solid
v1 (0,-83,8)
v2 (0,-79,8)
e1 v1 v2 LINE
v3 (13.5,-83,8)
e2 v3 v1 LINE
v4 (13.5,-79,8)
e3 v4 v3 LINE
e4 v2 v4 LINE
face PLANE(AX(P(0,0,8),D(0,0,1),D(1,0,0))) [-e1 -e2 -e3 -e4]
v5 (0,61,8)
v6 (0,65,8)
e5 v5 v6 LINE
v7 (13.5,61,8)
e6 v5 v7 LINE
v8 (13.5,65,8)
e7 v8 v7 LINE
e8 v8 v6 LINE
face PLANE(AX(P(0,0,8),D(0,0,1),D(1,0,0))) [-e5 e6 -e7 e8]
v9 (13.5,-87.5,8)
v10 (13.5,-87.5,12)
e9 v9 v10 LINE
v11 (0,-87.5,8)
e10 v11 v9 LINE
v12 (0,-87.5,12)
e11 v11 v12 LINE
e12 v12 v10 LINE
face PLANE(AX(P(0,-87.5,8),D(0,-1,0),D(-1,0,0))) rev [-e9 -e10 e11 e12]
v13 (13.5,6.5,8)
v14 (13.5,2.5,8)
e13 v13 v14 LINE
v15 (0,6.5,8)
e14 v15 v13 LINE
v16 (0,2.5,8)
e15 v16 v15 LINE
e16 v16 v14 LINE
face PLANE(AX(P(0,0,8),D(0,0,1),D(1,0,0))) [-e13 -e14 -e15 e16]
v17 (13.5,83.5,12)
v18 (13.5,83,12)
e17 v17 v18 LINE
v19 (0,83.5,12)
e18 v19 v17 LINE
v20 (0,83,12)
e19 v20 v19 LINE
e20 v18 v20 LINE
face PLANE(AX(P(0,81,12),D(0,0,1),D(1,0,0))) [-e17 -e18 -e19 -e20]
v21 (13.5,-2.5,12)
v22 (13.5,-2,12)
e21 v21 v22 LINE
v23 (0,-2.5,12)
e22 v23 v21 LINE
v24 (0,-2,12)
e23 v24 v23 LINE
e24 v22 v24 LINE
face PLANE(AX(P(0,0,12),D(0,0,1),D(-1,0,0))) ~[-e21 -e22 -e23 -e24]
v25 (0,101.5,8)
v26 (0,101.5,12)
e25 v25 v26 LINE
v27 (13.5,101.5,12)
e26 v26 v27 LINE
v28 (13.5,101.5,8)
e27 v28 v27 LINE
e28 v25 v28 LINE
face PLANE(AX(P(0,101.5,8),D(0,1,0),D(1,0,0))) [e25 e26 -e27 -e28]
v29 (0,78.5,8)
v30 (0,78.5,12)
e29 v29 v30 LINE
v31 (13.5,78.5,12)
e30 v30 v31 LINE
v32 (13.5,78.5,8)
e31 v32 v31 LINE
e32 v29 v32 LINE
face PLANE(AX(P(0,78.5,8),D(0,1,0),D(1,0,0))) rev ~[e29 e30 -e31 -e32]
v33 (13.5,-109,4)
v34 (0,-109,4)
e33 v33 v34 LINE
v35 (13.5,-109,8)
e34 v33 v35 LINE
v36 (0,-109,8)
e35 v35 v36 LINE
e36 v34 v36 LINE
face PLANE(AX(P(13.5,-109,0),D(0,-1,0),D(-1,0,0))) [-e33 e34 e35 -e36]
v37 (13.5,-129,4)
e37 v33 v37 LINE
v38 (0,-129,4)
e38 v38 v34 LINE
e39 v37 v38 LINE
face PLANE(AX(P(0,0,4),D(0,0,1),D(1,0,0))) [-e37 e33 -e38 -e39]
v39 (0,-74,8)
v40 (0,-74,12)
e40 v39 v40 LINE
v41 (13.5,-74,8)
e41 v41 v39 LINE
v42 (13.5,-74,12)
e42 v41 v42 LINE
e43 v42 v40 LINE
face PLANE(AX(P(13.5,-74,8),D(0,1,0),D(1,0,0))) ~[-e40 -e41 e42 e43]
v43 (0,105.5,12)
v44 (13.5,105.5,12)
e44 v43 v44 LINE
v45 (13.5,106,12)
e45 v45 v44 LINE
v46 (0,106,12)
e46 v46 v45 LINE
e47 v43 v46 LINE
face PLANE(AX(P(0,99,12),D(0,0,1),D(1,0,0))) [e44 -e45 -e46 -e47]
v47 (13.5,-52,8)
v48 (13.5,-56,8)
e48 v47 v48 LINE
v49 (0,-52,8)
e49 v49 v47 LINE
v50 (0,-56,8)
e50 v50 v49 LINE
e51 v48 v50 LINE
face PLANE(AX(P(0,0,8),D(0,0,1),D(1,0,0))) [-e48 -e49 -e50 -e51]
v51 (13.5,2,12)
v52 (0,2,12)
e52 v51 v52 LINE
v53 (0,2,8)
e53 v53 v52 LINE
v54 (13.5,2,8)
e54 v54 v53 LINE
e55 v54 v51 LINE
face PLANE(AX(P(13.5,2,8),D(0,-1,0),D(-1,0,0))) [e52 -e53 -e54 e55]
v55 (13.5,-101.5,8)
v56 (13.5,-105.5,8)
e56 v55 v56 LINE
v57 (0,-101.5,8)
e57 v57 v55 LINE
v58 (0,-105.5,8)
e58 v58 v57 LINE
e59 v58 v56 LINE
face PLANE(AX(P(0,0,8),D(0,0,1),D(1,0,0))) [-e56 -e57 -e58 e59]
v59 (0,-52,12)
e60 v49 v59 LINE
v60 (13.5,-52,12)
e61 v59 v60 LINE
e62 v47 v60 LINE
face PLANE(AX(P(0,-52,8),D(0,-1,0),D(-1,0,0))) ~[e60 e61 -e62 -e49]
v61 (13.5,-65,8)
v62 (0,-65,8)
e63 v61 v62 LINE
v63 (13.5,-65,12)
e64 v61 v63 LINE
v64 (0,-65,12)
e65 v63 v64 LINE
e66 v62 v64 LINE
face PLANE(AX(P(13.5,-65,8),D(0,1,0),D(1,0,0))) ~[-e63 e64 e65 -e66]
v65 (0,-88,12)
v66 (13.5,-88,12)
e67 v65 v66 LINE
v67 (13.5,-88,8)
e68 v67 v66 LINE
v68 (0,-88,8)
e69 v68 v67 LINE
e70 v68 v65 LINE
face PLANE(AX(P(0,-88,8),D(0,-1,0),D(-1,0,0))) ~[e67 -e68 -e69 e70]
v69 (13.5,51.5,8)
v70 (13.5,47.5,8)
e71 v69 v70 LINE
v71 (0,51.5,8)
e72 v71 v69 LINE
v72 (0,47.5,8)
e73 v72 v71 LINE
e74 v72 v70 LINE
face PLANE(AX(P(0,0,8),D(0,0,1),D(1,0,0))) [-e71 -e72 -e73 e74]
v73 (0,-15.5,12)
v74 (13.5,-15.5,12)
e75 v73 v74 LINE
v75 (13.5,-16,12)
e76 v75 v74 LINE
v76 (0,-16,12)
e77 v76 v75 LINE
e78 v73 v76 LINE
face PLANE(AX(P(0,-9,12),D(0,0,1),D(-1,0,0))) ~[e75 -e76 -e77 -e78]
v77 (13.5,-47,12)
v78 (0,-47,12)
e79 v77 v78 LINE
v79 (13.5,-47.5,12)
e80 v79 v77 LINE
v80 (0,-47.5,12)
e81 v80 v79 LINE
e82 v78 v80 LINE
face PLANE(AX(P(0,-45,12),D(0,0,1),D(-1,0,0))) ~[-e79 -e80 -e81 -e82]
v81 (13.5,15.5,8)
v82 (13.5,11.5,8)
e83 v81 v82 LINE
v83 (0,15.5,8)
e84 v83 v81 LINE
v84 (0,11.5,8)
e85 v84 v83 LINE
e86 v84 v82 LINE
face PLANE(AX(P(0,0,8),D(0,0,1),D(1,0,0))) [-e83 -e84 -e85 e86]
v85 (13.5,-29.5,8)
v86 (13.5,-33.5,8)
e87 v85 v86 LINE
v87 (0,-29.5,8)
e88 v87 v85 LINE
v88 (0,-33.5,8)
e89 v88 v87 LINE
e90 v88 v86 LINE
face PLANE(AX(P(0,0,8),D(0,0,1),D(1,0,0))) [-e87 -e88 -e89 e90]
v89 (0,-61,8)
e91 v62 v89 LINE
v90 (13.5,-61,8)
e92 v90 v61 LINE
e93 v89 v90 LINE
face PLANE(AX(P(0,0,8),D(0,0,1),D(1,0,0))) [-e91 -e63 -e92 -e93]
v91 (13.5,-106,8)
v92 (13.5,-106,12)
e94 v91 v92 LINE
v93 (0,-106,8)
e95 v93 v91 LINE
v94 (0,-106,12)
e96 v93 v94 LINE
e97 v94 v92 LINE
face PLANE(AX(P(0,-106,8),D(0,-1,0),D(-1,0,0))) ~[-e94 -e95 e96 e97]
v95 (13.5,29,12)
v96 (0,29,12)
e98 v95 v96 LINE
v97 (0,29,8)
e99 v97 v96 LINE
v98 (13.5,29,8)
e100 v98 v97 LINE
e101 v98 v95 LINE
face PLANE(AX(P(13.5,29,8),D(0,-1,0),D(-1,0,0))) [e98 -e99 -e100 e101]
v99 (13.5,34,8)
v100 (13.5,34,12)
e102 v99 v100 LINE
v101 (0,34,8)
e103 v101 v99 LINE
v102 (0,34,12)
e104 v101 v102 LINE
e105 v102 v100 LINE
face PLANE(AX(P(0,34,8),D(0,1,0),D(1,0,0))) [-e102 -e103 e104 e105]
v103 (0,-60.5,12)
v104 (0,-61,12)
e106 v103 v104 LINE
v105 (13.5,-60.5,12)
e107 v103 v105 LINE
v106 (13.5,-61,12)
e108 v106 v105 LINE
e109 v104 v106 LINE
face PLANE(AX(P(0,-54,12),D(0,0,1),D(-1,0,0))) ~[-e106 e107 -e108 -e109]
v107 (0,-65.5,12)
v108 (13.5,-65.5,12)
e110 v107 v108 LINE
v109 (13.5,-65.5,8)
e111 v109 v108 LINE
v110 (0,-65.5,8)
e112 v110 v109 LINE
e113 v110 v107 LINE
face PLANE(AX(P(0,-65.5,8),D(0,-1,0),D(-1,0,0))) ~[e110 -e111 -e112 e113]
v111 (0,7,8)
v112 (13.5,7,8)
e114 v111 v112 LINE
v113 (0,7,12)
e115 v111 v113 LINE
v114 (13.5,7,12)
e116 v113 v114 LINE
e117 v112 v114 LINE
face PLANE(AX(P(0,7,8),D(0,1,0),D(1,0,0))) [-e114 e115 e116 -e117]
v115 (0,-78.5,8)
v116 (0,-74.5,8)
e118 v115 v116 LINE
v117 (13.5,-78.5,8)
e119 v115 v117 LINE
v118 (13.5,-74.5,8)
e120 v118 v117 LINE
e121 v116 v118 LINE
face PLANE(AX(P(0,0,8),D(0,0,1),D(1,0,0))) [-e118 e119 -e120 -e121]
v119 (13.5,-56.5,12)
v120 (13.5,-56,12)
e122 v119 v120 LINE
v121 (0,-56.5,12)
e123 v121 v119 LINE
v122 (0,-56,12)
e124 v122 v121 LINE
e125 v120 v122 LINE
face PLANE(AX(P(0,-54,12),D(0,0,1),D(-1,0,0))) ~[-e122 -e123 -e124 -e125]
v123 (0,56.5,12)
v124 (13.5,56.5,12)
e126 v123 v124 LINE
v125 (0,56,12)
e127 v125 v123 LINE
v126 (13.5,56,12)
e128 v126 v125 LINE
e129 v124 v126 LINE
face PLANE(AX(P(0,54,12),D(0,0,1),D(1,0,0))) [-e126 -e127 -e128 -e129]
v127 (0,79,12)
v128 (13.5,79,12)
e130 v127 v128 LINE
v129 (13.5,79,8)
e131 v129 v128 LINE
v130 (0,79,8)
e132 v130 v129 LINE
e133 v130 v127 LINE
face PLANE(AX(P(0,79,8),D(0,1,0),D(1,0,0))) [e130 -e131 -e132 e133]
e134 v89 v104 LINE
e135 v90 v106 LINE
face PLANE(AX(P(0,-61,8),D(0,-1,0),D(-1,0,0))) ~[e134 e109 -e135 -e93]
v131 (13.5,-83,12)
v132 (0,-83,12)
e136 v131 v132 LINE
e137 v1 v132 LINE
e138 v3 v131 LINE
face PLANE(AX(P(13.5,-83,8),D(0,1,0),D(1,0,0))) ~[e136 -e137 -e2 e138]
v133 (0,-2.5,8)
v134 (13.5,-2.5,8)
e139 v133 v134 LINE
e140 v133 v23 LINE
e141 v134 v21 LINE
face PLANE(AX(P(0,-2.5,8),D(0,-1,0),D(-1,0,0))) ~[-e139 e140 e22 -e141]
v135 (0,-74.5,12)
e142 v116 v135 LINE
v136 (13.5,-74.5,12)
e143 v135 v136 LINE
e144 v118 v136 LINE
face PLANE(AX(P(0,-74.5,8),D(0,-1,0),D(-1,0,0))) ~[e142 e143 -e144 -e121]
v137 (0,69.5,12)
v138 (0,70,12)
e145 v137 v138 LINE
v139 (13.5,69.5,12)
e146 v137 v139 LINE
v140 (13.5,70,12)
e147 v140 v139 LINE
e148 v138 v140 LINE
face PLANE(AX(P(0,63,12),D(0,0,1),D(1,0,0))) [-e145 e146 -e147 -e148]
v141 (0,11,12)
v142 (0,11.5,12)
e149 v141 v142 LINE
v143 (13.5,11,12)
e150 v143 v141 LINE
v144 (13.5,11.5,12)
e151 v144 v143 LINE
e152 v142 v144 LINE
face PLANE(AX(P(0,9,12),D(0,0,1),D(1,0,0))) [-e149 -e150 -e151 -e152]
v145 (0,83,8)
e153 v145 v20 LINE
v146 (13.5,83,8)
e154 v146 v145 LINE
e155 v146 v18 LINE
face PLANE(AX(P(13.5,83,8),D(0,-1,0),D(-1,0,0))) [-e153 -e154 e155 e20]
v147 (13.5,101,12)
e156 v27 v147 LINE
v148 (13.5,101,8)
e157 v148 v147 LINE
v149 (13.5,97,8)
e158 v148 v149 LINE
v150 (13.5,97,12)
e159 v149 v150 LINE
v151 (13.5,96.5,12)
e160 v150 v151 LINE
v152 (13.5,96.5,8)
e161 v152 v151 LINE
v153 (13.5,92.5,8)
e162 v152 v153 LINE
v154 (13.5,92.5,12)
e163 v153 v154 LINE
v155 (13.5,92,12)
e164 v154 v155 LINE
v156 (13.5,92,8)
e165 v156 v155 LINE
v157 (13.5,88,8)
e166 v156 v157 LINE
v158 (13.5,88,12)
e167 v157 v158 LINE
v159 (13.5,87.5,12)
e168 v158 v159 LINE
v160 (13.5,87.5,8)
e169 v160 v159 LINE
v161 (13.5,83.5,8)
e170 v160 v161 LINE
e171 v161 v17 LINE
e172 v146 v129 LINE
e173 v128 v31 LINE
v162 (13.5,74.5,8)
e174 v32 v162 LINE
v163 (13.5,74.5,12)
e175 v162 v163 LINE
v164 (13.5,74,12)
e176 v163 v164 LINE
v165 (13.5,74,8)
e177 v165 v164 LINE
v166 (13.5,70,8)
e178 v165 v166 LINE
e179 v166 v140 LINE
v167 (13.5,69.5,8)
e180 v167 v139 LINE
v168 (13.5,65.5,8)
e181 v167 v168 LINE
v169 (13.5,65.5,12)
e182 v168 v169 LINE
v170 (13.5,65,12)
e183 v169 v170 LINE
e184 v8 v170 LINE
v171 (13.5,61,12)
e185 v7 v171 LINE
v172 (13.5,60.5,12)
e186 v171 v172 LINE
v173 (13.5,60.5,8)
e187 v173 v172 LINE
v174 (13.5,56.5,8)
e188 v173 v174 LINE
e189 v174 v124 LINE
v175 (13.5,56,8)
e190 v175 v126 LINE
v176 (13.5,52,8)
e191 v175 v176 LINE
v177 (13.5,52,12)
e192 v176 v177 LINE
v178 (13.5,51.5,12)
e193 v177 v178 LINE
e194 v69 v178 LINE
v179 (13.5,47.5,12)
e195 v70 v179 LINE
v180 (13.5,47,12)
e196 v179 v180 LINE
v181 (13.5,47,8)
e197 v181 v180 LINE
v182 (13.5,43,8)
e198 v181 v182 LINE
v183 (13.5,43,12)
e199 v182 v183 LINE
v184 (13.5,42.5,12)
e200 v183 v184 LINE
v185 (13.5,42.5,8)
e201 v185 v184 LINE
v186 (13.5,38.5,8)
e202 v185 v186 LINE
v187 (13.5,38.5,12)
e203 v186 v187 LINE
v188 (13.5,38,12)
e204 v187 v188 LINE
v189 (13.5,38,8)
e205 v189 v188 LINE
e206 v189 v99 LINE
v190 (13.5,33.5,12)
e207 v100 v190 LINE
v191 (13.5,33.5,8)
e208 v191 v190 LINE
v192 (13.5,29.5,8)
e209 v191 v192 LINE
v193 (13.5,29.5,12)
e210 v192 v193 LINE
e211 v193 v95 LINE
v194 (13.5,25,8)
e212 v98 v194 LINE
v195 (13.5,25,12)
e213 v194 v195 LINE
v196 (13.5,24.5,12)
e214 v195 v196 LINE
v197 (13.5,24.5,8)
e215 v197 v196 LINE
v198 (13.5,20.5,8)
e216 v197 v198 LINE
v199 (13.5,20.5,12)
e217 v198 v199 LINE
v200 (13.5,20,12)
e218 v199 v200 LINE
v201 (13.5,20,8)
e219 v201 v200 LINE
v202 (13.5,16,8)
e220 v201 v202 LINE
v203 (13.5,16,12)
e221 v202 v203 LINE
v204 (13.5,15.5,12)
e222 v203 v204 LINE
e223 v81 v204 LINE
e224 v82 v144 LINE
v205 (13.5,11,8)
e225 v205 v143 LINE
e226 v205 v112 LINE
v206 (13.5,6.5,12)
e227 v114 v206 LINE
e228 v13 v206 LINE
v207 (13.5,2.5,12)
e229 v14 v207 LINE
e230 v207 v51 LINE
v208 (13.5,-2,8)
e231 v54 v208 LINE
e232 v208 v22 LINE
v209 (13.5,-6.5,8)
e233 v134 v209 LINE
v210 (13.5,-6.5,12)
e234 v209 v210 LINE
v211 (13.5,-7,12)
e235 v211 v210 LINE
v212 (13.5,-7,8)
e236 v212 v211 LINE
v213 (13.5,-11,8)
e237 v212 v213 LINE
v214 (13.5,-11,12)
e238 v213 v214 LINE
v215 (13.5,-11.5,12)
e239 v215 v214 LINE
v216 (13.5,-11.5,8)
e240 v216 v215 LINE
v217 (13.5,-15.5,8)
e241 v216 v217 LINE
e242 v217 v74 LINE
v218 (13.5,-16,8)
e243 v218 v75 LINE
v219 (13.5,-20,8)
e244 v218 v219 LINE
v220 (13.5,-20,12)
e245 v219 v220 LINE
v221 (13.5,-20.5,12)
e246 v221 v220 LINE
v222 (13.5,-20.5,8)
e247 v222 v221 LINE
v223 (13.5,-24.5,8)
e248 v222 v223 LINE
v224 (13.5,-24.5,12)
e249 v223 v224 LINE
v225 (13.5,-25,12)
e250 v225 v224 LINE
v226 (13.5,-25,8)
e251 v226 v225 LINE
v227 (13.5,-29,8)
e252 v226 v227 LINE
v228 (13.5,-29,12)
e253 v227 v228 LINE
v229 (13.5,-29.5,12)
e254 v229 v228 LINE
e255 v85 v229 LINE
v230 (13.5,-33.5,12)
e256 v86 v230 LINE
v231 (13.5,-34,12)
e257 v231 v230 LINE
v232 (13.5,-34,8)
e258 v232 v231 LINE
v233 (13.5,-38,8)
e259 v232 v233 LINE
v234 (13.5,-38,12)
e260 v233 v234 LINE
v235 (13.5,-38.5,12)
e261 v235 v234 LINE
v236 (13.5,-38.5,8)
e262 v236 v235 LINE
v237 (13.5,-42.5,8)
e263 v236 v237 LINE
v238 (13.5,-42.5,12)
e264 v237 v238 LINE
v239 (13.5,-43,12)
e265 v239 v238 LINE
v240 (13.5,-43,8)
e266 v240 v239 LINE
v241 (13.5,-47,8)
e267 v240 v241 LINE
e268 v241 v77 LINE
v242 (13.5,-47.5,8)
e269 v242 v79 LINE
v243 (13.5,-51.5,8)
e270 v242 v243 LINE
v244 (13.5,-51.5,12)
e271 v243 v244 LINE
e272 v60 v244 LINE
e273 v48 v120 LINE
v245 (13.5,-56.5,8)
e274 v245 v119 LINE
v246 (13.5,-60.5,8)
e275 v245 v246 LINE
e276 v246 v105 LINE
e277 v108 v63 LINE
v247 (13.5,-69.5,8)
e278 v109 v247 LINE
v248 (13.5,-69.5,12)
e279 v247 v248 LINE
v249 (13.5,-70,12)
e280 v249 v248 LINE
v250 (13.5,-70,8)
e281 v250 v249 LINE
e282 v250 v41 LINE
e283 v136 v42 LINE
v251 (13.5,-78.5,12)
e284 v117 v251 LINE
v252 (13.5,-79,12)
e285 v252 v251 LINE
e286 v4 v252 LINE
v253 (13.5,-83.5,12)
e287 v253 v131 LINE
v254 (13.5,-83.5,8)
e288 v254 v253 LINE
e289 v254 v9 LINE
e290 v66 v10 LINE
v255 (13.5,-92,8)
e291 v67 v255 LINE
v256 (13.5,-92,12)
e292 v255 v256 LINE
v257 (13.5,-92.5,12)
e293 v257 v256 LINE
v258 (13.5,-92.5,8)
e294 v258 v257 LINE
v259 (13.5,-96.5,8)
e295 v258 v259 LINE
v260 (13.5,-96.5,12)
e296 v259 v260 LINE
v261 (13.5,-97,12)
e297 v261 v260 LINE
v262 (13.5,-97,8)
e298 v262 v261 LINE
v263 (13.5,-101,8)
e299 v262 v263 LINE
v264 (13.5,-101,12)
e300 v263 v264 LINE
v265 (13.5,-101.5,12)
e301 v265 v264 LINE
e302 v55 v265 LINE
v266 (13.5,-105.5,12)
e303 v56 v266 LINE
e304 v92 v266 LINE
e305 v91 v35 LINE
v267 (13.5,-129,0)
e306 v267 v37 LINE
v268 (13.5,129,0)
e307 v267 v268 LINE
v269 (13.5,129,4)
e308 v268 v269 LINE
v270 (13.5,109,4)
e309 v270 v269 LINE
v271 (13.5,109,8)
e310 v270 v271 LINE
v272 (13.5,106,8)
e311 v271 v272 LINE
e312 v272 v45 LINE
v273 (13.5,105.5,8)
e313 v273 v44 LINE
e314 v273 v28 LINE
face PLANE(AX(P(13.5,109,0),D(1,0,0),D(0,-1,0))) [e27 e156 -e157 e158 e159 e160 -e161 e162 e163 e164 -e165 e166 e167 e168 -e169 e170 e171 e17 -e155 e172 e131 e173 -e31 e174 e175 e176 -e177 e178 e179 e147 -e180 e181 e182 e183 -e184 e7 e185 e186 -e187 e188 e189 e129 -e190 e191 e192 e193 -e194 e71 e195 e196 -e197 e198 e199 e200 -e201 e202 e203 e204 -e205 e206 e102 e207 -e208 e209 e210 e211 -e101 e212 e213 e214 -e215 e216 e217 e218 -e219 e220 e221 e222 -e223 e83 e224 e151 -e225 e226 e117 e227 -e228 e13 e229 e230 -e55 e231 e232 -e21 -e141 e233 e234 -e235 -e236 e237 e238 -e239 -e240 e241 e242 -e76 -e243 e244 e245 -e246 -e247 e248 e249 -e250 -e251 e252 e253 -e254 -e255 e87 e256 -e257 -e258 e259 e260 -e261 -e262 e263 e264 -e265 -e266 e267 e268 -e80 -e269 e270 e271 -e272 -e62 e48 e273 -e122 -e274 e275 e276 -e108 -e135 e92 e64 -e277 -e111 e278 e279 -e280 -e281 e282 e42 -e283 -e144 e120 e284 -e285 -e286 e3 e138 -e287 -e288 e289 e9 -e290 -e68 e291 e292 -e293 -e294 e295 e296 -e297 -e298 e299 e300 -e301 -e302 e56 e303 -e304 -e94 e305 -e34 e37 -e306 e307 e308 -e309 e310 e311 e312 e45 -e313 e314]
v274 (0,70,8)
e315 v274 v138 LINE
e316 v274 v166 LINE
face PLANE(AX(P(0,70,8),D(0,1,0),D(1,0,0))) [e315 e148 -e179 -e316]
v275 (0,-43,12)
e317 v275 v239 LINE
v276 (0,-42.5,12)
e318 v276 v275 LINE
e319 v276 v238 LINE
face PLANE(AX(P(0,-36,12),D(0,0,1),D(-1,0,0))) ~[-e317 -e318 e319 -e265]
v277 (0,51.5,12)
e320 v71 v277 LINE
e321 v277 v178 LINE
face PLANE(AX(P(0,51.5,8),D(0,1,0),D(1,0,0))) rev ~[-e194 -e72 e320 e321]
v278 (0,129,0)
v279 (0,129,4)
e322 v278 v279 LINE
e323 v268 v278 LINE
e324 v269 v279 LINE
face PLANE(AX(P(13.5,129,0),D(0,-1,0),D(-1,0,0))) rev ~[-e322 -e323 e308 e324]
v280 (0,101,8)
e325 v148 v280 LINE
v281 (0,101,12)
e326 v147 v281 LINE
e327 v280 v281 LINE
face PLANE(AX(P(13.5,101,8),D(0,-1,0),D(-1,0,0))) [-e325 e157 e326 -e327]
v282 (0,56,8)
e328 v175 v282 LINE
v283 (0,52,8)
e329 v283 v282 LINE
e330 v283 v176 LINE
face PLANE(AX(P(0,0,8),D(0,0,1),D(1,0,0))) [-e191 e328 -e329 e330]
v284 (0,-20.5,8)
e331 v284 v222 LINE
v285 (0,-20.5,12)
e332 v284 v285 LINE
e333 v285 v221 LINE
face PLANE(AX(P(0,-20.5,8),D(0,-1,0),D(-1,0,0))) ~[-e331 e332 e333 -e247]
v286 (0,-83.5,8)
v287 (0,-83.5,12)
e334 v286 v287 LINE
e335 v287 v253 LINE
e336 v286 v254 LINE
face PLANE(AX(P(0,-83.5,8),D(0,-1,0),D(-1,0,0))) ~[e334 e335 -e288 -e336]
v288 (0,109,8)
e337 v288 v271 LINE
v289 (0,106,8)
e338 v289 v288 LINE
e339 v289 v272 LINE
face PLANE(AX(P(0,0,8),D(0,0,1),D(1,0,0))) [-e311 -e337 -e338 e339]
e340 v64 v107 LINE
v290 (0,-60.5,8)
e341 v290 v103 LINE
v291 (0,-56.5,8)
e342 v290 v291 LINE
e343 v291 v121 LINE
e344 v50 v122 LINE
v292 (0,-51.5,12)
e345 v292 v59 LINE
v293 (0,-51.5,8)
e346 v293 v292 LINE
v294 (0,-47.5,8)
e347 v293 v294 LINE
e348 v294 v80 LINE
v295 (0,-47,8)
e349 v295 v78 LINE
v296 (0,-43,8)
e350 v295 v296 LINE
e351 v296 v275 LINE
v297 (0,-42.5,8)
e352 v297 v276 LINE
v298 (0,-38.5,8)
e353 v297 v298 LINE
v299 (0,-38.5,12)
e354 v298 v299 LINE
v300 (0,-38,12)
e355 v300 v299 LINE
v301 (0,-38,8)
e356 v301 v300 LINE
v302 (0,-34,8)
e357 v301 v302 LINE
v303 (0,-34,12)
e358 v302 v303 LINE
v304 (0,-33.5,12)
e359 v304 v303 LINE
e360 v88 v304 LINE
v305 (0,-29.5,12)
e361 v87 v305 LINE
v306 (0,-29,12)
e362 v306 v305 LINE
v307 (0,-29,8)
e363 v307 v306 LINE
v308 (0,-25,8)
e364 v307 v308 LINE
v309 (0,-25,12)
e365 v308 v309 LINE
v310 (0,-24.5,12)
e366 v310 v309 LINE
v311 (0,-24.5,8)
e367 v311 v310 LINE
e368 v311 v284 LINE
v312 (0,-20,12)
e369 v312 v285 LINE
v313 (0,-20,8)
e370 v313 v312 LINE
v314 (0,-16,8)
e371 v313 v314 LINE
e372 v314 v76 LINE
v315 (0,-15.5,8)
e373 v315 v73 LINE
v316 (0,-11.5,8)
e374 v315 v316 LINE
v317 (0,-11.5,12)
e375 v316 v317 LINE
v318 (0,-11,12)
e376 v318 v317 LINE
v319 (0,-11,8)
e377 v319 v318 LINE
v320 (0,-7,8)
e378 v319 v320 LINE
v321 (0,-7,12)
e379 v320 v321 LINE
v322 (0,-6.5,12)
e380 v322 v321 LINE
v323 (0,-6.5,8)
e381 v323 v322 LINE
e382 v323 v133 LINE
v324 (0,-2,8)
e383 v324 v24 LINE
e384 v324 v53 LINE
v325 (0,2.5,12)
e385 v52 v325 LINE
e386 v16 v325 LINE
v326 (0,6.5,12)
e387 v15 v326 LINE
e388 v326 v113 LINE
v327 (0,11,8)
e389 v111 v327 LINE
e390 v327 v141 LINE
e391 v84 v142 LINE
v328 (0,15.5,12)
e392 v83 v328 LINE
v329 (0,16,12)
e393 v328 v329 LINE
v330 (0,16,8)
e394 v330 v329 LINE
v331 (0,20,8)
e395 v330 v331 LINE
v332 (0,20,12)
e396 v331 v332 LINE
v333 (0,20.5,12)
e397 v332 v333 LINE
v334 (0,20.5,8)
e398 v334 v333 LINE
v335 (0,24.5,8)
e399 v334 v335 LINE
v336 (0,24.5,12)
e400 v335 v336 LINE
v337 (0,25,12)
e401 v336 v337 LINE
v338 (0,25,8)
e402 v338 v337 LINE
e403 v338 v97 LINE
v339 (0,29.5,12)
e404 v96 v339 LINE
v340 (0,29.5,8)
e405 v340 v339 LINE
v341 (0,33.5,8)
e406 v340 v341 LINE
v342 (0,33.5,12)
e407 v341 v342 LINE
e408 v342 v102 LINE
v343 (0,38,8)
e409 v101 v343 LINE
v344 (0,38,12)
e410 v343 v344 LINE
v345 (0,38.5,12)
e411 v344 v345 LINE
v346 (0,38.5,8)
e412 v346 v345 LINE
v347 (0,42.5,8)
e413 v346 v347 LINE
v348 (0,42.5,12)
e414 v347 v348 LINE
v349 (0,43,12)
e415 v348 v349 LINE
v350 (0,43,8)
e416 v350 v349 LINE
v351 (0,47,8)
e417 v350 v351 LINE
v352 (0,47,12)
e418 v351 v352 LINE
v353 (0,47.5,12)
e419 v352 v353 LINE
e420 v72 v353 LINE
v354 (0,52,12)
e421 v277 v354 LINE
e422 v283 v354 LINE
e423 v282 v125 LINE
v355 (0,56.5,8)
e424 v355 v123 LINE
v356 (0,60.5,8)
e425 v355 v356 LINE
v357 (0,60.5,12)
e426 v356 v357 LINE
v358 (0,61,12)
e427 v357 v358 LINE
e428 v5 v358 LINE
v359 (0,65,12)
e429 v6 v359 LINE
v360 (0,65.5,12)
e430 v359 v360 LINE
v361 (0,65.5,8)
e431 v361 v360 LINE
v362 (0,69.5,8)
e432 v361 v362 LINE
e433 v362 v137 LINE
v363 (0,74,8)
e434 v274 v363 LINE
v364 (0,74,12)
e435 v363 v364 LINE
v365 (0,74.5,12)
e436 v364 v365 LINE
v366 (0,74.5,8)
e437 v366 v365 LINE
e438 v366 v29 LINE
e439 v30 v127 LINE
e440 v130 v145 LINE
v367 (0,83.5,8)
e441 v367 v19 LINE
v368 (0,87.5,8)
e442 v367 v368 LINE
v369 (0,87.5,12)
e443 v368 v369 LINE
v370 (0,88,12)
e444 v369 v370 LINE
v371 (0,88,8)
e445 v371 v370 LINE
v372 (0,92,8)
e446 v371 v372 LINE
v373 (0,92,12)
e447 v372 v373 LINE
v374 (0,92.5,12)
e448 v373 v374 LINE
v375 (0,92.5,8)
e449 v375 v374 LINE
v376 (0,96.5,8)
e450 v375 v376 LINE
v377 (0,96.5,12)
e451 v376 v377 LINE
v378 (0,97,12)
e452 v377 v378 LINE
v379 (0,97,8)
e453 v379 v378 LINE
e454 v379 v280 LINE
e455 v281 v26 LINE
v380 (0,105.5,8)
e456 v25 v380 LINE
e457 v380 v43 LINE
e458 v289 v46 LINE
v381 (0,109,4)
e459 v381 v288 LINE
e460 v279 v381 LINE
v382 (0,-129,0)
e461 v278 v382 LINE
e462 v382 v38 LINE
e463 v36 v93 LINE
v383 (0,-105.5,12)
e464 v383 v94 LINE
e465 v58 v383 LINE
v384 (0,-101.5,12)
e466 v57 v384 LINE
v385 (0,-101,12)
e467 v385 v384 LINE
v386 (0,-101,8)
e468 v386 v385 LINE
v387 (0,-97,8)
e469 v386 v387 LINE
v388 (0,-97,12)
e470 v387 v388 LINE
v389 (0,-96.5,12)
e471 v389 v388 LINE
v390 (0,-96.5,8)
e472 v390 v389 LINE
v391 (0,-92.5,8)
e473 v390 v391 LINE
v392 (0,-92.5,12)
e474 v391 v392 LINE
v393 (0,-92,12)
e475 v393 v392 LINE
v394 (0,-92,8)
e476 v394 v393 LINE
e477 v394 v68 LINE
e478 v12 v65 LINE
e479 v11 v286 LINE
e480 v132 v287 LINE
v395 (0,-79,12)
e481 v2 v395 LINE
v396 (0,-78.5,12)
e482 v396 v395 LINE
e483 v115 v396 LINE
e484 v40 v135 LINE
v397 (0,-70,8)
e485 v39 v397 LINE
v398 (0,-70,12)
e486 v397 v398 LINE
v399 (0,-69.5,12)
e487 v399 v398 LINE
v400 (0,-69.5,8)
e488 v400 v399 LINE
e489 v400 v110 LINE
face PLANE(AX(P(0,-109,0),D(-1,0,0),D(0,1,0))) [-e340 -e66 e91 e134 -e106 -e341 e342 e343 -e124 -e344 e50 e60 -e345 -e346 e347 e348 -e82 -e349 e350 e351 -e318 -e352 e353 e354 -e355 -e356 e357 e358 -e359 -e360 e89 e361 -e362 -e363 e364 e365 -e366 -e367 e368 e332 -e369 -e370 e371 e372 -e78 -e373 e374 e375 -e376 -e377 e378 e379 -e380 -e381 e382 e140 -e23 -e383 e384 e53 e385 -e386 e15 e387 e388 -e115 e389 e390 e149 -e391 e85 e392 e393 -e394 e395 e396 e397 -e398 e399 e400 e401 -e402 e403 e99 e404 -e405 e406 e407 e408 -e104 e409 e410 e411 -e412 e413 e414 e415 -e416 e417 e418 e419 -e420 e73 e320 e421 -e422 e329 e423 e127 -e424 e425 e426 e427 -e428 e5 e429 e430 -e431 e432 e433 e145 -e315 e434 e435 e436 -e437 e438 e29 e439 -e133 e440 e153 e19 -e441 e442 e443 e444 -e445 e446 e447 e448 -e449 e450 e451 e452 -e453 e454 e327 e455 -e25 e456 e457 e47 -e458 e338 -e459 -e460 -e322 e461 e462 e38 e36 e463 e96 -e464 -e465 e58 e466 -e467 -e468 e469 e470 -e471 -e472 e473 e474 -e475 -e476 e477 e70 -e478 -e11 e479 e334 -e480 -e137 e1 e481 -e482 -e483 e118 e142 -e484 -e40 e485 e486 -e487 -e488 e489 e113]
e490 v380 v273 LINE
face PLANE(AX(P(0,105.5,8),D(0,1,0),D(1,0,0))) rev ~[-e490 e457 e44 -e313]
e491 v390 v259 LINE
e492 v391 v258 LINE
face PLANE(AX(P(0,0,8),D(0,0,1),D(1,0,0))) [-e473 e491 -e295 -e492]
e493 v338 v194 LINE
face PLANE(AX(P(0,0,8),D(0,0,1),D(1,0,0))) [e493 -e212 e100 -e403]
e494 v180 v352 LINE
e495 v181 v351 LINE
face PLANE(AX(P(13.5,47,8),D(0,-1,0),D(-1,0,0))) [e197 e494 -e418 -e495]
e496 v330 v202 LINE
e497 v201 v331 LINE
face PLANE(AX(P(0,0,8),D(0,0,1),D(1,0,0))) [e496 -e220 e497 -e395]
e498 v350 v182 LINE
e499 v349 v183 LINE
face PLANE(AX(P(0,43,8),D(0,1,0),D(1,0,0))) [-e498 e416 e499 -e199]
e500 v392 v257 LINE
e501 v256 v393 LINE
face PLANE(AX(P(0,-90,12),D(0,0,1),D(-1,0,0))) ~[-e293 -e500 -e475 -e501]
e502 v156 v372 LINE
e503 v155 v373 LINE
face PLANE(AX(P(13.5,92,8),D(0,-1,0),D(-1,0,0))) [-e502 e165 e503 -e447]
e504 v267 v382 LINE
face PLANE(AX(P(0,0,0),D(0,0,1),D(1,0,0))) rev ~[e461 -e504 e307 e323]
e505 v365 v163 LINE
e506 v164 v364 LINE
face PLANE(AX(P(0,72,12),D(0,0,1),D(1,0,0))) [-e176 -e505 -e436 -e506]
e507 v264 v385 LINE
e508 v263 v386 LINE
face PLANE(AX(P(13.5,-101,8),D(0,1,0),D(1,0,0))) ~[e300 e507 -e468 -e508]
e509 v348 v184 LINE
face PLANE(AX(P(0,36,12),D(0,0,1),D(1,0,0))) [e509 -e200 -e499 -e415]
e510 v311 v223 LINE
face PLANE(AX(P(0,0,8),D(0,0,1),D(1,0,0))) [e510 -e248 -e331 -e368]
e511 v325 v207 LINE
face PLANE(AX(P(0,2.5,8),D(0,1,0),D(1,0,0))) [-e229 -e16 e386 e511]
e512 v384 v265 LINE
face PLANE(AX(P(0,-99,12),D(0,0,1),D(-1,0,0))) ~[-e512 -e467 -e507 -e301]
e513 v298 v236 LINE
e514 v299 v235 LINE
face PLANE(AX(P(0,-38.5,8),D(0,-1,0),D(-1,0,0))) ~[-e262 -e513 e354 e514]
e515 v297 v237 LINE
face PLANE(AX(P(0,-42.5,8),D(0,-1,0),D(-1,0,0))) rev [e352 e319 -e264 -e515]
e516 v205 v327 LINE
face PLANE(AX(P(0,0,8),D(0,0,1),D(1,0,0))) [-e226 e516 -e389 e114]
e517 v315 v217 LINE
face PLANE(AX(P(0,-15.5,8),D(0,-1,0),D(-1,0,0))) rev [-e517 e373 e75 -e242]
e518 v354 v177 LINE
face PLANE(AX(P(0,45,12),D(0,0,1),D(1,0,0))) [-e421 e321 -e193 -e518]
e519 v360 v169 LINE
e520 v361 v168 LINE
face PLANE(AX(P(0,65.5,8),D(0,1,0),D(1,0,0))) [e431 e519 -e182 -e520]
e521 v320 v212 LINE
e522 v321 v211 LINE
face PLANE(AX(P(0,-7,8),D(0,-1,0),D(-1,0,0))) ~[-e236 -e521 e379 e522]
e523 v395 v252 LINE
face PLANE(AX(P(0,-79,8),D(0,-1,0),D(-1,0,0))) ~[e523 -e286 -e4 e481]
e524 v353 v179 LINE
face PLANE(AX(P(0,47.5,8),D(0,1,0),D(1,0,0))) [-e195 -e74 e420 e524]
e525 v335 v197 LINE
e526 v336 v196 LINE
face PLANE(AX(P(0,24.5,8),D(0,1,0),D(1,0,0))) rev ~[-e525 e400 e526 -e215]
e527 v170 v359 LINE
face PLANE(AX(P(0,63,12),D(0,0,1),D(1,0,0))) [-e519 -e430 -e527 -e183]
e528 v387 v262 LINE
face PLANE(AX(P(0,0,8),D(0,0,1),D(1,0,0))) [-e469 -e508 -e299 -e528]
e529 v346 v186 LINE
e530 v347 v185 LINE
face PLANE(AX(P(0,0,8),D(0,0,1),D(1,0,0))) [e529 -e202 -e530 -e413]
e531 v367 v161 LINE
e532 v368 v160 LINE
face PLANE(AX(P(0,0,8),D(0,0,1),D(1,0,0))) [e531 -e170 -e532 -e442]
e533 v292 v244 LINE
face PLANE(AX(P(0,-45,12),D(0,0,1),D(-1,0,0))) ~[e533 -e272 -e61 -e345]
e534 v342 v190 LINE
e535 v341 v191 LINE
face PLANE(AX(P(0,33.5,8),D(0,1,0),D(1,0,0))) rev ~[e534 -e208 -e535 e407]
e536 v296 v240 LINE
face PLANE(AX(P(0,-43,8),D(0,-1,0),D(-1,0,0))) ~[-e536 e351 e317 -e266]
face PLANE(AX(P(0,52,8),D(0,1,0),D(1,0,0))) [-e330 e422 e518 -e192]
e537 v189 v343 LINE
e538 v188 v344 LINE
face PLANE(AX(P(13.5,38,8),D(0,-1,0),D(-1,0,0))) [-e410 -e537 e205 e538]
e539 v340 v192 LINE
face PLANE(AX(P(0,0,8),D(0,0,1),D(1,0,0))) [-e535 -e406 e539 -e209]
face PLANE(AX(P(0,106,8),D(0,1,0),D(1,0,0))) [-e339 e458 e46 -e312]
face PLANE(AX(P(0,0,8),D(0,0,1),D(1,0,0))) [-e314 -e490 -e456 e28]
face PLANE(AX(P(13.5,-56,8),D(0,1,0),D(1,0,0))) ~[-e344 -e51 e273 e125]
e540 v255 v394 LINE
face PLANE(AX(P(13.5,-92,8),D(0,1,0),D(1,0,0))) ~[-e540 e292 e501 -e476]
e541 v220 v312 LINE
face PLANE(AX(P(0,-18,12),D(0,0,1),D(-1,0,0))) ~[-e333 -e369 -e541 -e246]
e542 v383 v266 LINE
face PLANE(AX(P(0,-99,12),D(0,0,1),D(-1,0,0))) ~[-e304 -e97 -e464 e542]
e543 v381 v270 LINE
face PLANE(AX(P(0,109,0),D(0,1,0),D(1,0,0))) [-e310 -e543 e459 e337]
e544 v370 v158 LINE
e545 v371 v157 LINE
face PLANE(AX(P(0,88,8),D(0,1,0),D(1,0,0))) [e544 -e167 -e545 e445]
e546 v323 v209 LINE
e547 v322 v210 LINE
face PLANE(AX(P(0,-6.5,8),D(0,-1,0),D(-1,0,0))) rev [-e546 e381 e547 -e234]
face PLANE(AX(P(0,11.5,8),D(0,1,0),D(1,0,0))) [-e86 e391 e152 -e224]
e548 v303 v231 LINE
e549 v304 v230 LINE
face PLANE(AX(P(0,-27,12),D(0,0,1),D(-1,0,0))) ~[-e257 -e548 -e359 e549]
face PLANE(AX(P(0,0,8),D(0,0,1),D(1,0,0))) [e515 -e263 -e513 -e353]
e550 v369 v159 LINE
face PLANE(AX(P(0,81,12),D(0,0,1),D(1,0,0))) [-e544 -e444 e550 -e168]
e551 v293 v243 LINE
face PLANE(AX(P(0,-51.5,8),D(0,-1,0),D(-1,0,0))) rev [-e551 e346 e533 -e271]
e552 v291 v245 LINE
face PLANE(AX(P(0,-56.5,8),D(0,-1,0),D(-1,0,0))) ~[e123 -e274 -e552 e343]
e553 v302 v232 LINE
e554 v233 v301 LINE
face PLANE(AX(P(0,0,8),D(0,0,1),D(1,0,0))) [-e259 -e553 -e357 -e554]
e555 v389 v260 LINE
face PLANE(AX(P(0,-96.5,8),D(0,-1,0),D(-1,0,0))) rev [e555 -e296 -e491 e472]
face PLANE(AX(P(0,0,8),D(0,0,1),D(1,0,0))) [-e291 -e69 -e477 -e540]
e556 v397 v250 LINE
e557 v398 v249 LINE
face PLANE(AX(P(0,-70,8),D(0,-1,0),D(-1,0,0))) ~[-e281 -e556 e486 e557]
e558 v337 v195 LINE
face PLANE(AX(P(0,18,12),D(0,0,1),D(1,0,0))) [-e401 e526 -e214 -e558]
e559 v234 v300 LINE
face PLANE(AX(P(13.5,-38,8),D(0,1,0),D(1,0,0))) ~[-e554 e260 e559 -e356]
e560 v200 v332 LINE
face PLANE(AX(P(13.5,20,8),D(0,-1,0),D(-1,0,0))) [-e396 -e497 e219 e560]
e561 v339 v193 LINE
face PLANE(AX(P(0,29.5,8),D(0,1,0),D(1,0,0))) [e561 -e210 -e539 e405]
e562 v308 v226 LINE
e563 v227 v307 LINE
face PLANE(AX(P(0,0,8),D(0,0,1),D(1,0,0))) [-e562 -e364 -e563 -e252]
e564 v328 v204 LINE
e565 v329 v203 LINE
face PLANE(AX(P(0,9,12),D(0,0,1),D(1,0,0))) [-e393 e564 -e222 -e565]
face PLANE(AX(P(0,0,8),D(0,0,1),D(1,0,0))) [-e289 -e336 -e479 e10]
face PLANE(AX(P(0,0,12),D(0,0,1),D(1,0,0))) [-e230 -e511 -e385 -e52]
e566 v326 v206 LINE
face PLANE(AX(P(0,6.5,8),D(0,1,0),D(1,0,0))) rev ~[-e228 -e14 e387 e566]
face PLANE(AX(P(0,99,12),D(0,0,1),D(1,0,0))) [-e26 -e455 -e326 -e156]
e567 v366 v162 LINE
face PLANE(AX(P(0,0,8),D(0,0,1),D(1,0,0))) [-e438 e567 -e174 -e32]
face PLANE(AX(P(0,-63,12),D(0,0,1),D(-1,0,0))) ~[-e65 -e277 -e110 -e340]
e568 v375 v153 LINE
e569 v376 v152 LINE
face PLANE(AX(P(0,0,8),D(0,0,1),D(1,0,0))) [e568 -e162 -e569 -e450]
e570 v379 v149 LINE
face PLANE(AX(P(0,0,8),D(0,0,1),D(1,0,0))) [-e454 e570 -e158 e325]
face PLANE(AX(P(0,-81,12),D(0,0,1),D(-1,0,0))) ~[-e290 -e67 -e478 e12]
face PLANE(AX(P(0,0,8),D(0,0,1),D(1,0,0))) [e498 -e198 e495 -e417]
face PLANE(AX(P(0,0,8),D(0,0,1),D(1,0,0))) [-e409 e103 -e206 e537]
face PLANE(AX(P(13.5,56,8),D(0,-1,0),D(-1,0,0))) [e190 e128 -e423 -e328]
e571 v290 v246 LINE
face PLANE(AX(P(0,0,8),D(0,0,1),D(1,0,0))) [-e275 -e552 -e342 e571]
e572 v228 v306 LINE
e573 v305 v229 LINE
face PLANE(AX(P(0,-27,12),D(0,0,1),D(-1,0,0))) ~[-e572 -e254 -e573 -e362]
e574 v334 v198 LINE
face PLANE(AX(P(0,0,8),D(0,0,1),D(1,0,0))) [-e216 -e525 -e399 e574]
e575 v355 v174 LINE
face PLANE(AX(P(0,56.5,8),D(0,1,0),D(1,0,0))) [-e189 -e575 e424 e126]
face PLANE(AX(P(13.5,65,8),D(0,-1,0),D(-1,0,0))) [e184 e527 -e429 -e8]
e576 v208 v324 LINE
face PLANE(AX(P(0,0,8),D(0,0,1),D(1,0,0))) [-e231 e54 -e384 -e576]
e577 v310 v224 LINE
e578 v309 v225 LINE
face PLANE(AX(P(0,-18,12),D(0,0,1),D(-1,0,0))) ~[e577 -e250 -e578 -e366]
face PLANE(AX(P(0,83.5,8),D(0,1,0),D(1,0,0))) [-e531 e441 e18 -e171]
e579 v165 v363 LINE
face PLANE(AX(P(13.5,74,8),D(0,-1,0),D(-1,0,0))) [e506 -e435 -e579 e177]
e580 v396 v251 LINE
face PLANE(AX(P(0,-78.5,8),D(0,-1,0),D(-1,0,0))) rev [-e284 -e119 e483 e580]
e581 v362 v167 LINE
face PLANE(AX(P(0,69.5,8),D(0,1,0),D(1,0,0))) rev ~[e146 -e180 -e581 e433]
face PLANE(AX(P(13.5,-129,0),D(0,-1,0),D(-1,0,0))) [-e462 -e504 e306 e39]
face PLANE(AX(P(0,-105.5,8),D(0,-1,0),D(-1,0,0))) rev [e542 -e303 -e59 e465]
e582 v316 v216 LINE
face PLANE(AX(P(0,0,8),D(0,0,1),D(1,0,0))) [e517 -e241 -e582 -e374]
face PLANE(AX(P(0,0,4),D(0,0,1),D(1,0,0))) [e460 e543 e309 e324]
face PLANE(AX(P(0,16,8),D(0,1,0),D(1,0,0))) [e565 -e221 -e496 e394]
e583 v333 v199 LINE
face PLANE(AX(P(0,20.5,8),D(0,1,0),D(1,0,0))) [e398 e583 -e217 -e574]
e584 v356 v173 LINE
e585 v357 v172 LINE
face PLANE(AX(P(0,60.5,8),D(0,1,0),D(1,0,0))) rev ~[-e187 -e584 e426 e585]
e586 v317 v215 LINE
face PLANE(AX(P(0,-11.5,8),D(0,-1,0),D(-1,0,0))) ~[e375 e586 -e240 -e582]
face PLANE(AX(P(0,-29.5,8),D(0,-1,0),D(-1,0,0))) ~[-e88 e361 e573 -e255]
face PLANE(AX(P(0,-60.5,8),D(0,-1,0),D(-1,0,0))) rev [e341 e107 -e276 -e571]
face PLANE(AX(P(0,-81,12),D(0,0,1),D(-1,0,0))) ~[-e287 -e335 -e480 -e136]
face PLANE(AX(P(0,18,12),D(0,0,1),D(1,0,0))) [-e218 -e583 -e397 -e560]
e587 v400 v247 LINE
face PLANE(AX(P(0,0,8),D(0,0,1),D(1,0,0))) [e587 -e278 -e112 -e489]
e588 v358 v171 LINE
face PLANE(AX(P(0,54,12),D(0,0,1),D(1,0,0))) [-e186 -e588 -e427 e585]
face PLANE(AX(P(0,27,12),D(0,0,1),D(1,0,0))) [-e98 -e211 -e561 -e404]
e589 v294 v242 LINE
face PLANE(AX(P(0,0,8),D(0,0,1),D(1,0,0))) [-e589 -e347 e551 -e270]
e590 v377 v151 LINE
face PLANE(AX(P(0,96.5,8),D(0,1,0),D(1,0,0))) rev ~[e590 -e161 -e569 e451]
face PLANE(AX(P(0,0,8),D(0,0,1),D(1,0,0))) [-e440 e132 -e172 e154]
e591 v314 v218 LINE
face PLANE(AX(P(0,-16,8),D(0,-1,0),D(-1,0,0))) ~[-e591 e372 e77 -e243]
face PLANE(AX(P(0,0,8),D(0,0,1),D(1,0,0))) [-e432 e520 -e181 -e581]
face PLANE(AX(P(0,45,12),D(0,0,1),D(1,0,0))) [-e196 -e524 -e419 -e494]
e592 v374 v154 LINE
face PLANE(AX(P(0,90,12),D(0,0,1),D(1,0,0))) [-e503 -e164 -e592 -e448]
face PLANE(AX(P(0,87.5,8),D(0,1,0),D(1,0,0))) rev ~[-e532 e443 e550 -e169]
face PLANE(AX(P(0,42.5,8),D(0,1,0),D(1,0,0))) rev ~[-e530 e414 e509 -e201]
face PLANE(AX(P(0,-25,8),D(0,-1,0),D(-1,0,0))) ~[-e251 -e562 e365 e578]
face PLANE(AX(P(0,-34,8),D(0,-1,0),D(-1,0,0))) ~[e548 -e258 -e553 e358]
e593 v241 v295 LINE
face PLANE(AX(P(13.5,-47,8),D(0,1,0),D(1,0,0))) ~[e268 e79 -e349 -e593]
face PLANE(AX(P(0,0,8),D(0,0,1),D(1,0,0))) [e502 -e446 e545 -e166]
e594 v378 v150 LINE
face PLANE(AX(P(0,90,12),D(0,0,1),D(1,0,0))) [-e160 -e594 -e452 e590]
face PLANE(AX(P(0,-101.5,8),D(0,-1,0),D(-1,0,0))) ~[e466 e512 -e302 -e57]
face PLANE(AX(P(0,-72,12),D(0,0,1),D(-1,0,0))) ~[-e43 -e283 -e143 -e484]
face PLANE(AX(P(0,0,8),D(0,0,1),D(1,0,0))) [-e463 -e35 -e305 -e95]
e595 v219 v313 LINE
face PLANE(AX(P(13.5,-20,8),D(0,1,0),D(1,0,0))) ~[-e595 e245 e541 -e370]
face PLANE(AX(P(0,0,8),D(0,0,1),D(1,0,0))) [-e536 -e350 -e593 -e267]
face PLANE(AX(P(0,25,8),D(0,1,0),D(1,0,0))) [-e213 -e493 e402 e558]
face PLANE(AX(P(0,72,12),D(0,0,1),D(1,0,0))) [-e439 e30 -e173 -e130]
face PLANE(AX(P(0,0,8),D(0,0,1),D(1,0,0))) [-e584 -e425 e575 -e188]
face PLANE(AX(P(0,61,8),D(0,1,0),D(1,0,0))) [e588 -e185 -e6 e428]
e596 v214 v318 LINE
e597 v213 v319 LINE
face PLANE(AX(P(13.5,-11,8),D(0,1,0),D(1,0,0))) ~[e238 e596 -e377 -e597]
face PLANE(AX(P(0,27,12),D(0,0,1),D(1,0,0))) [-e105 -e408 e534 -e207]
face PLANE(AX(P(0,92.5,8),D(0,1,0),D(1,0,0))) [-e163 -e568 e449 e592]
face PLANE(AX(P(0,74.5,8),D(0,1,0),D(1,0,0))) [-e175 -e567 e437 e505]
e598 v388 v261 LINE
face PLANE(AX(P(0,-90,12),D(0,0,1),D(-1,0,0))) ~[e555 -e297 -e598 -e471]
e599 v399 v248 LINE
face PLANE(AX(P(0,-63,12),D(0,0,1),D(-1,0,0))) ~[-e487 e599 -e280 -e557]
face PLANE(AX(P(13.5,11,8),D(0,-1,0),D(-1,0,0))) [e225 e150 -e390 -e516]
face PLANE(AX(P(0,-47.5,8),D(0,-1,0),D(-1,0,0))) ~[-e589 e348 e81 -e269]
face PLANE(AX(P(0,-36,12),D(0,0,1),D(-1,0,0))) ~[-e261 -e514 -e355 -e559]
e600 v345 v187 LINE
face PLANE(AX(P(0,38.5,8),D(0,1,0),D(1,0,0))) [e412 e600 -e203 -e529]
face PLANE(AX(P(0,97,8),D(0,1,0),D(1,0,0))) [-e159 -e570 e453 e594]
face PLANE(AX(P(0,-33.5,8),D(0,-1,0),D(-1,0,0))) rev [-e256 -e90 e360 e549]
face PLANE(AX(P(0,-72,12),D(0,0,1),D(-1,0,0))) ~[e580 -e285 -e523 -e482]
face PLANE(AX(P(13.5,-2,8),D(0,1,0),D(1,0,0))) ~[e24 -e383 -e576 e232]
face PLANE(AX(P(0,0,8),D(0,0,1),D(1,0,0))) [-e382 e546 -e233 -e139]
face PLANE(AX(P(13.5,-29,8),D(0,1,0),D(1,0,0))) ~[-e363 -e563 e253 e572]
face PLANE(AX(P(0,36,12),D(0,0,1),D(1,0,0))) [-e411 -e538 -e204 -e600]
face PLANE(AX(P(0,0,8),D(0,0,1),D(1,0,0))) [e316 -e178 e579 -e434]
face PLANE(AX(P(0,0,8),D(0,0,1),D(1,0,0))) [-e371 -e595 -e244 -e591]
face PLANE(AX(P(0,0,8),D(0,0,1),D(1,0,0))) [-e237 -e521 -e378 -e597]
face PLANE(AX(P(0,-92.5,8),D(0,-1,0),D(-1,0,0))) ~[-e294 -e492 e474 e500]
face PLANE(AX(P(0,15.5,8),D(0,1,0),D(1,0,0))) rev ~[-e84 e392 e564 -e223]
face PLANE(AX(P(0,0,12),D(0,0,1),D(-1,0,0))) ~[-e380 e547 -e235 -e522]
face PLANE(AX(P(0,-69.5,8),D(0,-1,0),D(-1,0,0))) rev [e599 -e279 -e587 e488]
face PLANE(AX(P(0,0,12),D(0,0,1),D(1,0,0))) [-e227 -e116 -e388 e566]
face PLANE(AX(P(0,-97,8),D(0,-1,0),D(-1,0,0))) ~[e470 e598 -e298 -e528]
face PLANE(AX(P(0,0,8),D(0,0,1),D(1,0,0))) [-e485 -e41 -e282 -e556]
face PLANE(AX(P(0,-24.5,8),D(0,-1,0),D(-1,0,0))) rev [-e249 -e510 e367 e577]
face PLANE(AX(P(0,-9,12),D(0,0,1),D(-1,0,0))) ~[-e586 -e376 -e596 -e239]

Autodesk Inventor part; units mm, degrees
ref_plane "YZ Plane" through (0, 0, 0) normal (1, 0, 0) x (0, 1, 0)
ref_plane "XZ Plane" through (0, 0, 0) normal (0, 1, 0) x (-1, 0, 0)
sketch "Sketch1" plane through (0, 0, 0) normal (0, 0, 1) x (1, 0, 0)
  line L0 (0, 109) -> (13.5, 109)
  line L1 (13.5, 109) -> (13.5, -109)
  line L2 (13.5, -109) -> (0, -109)
  line L3 (0, -109) -> (0, 109)
  line L4 (0, 109) -> (13.5, 109)
  line L5 (13.5, 109) -> (13.5, 129)
  line L6 (13.5, 129) -> (0, 129)
  line L7 (0, 129) -> (0, 109)
  line L8 (0, 0) -> (65.2532, 0) construction
  line L9 (13.5, -109) -> (13.5, -129)
  line L10 (13.5, -129) -> (0, -129)
  line L11 (0, -129) -> (0, -109)
  dimension "d0" = 218
  dimension "d1" = 13.5
  dimension "d3" = 20
extrude "Extrusion1" add sketch "Sketch1" along normal blind 8 contours L0 L1 L2 L3
extrude "Extrusion2" add sketch "Sketch1" along normal blind 4 contours L7 L6 L5 L0 | L2 L9 L10 L11
ref_plane "spacer_surface Plane" through (0, 0, 8) normal (0, 0, 1) x (1, 0, 0)
sketch "Sketch2" plane through (0, 0, 8) normal (0, 0, 1) x (1, 0, 0)
  line L0 (0, 7) -> (13.5, 7)
  line L1 (13.5, 7) -> (13.5, 2)
  line L2 (13.5, 2) -> (0, 2)
  line L3 (0, 2) -> (0, 7)
  line L4 (0, 109) -> (0, -109) projected
  line L5 (13.5, -109) -> (13.5, 109) projected
  line L6 (0, 0) -> (65.2532, 0) construction
  line L7 (0, 129) -> (0, -129) projected
  line L8 (0, 2.5) -> (13.5, 2.5)
  line L9 (0, 6.5) -> (13.5, 6.5)
  point P0 (0, 4.5)
  point P1 (13.5, 4.5)
  dimension "d0" = 218
  dimension "d12" = 0.5
  dimension "d13" = 0.5
  dimension "d14" = 4
  dimension "d15" = 2
extrude "Extrusion3" add sketch "Sketch2" along normal blind 4 contours L0 L1 L9 L3 | L8 L1 L2 L3
pattern_linear "Rectangular Pattern1" count 12 spacing 9 along (0, 1, 0) of "Extrusion3"
mirror "Mirror1" about plane through (0, 0, 0) normal (0, 1, 0) of "Extrusion3", "Rectangular Pattern1"
equation "\"d0\" = spacer_length"
equation "\"d1\" = spacer_width"
equation "\"d3\" = lock_length"
equation "\"d4\" = spacer_height"
equation "\"d6\" = lock_height"
equation "\"d12\" = 0.5 * holder_thickness"
equation "\"d13\" = 0.5 * holder_thickness"
equation "\"d14\" = wire_diameter"
equation "\"d15\" = 0.5 * wire_diameter"
equation "\"d16\" = wire_diameter"
equation "\"spacer_length\" = 218"
equation "\"spacer_width\" = 13.5"
equation "\"spacer_height\" = 8"
equation "\"lock_length\" = 20"
equation "\"lock_height\" = 4"
equation "\"wire_diameter\" = 4"
equation "\"wire_holder_offset\" = 0.1"
equation "\"holder_thickness\" = 1"
properties part number "spacer"
